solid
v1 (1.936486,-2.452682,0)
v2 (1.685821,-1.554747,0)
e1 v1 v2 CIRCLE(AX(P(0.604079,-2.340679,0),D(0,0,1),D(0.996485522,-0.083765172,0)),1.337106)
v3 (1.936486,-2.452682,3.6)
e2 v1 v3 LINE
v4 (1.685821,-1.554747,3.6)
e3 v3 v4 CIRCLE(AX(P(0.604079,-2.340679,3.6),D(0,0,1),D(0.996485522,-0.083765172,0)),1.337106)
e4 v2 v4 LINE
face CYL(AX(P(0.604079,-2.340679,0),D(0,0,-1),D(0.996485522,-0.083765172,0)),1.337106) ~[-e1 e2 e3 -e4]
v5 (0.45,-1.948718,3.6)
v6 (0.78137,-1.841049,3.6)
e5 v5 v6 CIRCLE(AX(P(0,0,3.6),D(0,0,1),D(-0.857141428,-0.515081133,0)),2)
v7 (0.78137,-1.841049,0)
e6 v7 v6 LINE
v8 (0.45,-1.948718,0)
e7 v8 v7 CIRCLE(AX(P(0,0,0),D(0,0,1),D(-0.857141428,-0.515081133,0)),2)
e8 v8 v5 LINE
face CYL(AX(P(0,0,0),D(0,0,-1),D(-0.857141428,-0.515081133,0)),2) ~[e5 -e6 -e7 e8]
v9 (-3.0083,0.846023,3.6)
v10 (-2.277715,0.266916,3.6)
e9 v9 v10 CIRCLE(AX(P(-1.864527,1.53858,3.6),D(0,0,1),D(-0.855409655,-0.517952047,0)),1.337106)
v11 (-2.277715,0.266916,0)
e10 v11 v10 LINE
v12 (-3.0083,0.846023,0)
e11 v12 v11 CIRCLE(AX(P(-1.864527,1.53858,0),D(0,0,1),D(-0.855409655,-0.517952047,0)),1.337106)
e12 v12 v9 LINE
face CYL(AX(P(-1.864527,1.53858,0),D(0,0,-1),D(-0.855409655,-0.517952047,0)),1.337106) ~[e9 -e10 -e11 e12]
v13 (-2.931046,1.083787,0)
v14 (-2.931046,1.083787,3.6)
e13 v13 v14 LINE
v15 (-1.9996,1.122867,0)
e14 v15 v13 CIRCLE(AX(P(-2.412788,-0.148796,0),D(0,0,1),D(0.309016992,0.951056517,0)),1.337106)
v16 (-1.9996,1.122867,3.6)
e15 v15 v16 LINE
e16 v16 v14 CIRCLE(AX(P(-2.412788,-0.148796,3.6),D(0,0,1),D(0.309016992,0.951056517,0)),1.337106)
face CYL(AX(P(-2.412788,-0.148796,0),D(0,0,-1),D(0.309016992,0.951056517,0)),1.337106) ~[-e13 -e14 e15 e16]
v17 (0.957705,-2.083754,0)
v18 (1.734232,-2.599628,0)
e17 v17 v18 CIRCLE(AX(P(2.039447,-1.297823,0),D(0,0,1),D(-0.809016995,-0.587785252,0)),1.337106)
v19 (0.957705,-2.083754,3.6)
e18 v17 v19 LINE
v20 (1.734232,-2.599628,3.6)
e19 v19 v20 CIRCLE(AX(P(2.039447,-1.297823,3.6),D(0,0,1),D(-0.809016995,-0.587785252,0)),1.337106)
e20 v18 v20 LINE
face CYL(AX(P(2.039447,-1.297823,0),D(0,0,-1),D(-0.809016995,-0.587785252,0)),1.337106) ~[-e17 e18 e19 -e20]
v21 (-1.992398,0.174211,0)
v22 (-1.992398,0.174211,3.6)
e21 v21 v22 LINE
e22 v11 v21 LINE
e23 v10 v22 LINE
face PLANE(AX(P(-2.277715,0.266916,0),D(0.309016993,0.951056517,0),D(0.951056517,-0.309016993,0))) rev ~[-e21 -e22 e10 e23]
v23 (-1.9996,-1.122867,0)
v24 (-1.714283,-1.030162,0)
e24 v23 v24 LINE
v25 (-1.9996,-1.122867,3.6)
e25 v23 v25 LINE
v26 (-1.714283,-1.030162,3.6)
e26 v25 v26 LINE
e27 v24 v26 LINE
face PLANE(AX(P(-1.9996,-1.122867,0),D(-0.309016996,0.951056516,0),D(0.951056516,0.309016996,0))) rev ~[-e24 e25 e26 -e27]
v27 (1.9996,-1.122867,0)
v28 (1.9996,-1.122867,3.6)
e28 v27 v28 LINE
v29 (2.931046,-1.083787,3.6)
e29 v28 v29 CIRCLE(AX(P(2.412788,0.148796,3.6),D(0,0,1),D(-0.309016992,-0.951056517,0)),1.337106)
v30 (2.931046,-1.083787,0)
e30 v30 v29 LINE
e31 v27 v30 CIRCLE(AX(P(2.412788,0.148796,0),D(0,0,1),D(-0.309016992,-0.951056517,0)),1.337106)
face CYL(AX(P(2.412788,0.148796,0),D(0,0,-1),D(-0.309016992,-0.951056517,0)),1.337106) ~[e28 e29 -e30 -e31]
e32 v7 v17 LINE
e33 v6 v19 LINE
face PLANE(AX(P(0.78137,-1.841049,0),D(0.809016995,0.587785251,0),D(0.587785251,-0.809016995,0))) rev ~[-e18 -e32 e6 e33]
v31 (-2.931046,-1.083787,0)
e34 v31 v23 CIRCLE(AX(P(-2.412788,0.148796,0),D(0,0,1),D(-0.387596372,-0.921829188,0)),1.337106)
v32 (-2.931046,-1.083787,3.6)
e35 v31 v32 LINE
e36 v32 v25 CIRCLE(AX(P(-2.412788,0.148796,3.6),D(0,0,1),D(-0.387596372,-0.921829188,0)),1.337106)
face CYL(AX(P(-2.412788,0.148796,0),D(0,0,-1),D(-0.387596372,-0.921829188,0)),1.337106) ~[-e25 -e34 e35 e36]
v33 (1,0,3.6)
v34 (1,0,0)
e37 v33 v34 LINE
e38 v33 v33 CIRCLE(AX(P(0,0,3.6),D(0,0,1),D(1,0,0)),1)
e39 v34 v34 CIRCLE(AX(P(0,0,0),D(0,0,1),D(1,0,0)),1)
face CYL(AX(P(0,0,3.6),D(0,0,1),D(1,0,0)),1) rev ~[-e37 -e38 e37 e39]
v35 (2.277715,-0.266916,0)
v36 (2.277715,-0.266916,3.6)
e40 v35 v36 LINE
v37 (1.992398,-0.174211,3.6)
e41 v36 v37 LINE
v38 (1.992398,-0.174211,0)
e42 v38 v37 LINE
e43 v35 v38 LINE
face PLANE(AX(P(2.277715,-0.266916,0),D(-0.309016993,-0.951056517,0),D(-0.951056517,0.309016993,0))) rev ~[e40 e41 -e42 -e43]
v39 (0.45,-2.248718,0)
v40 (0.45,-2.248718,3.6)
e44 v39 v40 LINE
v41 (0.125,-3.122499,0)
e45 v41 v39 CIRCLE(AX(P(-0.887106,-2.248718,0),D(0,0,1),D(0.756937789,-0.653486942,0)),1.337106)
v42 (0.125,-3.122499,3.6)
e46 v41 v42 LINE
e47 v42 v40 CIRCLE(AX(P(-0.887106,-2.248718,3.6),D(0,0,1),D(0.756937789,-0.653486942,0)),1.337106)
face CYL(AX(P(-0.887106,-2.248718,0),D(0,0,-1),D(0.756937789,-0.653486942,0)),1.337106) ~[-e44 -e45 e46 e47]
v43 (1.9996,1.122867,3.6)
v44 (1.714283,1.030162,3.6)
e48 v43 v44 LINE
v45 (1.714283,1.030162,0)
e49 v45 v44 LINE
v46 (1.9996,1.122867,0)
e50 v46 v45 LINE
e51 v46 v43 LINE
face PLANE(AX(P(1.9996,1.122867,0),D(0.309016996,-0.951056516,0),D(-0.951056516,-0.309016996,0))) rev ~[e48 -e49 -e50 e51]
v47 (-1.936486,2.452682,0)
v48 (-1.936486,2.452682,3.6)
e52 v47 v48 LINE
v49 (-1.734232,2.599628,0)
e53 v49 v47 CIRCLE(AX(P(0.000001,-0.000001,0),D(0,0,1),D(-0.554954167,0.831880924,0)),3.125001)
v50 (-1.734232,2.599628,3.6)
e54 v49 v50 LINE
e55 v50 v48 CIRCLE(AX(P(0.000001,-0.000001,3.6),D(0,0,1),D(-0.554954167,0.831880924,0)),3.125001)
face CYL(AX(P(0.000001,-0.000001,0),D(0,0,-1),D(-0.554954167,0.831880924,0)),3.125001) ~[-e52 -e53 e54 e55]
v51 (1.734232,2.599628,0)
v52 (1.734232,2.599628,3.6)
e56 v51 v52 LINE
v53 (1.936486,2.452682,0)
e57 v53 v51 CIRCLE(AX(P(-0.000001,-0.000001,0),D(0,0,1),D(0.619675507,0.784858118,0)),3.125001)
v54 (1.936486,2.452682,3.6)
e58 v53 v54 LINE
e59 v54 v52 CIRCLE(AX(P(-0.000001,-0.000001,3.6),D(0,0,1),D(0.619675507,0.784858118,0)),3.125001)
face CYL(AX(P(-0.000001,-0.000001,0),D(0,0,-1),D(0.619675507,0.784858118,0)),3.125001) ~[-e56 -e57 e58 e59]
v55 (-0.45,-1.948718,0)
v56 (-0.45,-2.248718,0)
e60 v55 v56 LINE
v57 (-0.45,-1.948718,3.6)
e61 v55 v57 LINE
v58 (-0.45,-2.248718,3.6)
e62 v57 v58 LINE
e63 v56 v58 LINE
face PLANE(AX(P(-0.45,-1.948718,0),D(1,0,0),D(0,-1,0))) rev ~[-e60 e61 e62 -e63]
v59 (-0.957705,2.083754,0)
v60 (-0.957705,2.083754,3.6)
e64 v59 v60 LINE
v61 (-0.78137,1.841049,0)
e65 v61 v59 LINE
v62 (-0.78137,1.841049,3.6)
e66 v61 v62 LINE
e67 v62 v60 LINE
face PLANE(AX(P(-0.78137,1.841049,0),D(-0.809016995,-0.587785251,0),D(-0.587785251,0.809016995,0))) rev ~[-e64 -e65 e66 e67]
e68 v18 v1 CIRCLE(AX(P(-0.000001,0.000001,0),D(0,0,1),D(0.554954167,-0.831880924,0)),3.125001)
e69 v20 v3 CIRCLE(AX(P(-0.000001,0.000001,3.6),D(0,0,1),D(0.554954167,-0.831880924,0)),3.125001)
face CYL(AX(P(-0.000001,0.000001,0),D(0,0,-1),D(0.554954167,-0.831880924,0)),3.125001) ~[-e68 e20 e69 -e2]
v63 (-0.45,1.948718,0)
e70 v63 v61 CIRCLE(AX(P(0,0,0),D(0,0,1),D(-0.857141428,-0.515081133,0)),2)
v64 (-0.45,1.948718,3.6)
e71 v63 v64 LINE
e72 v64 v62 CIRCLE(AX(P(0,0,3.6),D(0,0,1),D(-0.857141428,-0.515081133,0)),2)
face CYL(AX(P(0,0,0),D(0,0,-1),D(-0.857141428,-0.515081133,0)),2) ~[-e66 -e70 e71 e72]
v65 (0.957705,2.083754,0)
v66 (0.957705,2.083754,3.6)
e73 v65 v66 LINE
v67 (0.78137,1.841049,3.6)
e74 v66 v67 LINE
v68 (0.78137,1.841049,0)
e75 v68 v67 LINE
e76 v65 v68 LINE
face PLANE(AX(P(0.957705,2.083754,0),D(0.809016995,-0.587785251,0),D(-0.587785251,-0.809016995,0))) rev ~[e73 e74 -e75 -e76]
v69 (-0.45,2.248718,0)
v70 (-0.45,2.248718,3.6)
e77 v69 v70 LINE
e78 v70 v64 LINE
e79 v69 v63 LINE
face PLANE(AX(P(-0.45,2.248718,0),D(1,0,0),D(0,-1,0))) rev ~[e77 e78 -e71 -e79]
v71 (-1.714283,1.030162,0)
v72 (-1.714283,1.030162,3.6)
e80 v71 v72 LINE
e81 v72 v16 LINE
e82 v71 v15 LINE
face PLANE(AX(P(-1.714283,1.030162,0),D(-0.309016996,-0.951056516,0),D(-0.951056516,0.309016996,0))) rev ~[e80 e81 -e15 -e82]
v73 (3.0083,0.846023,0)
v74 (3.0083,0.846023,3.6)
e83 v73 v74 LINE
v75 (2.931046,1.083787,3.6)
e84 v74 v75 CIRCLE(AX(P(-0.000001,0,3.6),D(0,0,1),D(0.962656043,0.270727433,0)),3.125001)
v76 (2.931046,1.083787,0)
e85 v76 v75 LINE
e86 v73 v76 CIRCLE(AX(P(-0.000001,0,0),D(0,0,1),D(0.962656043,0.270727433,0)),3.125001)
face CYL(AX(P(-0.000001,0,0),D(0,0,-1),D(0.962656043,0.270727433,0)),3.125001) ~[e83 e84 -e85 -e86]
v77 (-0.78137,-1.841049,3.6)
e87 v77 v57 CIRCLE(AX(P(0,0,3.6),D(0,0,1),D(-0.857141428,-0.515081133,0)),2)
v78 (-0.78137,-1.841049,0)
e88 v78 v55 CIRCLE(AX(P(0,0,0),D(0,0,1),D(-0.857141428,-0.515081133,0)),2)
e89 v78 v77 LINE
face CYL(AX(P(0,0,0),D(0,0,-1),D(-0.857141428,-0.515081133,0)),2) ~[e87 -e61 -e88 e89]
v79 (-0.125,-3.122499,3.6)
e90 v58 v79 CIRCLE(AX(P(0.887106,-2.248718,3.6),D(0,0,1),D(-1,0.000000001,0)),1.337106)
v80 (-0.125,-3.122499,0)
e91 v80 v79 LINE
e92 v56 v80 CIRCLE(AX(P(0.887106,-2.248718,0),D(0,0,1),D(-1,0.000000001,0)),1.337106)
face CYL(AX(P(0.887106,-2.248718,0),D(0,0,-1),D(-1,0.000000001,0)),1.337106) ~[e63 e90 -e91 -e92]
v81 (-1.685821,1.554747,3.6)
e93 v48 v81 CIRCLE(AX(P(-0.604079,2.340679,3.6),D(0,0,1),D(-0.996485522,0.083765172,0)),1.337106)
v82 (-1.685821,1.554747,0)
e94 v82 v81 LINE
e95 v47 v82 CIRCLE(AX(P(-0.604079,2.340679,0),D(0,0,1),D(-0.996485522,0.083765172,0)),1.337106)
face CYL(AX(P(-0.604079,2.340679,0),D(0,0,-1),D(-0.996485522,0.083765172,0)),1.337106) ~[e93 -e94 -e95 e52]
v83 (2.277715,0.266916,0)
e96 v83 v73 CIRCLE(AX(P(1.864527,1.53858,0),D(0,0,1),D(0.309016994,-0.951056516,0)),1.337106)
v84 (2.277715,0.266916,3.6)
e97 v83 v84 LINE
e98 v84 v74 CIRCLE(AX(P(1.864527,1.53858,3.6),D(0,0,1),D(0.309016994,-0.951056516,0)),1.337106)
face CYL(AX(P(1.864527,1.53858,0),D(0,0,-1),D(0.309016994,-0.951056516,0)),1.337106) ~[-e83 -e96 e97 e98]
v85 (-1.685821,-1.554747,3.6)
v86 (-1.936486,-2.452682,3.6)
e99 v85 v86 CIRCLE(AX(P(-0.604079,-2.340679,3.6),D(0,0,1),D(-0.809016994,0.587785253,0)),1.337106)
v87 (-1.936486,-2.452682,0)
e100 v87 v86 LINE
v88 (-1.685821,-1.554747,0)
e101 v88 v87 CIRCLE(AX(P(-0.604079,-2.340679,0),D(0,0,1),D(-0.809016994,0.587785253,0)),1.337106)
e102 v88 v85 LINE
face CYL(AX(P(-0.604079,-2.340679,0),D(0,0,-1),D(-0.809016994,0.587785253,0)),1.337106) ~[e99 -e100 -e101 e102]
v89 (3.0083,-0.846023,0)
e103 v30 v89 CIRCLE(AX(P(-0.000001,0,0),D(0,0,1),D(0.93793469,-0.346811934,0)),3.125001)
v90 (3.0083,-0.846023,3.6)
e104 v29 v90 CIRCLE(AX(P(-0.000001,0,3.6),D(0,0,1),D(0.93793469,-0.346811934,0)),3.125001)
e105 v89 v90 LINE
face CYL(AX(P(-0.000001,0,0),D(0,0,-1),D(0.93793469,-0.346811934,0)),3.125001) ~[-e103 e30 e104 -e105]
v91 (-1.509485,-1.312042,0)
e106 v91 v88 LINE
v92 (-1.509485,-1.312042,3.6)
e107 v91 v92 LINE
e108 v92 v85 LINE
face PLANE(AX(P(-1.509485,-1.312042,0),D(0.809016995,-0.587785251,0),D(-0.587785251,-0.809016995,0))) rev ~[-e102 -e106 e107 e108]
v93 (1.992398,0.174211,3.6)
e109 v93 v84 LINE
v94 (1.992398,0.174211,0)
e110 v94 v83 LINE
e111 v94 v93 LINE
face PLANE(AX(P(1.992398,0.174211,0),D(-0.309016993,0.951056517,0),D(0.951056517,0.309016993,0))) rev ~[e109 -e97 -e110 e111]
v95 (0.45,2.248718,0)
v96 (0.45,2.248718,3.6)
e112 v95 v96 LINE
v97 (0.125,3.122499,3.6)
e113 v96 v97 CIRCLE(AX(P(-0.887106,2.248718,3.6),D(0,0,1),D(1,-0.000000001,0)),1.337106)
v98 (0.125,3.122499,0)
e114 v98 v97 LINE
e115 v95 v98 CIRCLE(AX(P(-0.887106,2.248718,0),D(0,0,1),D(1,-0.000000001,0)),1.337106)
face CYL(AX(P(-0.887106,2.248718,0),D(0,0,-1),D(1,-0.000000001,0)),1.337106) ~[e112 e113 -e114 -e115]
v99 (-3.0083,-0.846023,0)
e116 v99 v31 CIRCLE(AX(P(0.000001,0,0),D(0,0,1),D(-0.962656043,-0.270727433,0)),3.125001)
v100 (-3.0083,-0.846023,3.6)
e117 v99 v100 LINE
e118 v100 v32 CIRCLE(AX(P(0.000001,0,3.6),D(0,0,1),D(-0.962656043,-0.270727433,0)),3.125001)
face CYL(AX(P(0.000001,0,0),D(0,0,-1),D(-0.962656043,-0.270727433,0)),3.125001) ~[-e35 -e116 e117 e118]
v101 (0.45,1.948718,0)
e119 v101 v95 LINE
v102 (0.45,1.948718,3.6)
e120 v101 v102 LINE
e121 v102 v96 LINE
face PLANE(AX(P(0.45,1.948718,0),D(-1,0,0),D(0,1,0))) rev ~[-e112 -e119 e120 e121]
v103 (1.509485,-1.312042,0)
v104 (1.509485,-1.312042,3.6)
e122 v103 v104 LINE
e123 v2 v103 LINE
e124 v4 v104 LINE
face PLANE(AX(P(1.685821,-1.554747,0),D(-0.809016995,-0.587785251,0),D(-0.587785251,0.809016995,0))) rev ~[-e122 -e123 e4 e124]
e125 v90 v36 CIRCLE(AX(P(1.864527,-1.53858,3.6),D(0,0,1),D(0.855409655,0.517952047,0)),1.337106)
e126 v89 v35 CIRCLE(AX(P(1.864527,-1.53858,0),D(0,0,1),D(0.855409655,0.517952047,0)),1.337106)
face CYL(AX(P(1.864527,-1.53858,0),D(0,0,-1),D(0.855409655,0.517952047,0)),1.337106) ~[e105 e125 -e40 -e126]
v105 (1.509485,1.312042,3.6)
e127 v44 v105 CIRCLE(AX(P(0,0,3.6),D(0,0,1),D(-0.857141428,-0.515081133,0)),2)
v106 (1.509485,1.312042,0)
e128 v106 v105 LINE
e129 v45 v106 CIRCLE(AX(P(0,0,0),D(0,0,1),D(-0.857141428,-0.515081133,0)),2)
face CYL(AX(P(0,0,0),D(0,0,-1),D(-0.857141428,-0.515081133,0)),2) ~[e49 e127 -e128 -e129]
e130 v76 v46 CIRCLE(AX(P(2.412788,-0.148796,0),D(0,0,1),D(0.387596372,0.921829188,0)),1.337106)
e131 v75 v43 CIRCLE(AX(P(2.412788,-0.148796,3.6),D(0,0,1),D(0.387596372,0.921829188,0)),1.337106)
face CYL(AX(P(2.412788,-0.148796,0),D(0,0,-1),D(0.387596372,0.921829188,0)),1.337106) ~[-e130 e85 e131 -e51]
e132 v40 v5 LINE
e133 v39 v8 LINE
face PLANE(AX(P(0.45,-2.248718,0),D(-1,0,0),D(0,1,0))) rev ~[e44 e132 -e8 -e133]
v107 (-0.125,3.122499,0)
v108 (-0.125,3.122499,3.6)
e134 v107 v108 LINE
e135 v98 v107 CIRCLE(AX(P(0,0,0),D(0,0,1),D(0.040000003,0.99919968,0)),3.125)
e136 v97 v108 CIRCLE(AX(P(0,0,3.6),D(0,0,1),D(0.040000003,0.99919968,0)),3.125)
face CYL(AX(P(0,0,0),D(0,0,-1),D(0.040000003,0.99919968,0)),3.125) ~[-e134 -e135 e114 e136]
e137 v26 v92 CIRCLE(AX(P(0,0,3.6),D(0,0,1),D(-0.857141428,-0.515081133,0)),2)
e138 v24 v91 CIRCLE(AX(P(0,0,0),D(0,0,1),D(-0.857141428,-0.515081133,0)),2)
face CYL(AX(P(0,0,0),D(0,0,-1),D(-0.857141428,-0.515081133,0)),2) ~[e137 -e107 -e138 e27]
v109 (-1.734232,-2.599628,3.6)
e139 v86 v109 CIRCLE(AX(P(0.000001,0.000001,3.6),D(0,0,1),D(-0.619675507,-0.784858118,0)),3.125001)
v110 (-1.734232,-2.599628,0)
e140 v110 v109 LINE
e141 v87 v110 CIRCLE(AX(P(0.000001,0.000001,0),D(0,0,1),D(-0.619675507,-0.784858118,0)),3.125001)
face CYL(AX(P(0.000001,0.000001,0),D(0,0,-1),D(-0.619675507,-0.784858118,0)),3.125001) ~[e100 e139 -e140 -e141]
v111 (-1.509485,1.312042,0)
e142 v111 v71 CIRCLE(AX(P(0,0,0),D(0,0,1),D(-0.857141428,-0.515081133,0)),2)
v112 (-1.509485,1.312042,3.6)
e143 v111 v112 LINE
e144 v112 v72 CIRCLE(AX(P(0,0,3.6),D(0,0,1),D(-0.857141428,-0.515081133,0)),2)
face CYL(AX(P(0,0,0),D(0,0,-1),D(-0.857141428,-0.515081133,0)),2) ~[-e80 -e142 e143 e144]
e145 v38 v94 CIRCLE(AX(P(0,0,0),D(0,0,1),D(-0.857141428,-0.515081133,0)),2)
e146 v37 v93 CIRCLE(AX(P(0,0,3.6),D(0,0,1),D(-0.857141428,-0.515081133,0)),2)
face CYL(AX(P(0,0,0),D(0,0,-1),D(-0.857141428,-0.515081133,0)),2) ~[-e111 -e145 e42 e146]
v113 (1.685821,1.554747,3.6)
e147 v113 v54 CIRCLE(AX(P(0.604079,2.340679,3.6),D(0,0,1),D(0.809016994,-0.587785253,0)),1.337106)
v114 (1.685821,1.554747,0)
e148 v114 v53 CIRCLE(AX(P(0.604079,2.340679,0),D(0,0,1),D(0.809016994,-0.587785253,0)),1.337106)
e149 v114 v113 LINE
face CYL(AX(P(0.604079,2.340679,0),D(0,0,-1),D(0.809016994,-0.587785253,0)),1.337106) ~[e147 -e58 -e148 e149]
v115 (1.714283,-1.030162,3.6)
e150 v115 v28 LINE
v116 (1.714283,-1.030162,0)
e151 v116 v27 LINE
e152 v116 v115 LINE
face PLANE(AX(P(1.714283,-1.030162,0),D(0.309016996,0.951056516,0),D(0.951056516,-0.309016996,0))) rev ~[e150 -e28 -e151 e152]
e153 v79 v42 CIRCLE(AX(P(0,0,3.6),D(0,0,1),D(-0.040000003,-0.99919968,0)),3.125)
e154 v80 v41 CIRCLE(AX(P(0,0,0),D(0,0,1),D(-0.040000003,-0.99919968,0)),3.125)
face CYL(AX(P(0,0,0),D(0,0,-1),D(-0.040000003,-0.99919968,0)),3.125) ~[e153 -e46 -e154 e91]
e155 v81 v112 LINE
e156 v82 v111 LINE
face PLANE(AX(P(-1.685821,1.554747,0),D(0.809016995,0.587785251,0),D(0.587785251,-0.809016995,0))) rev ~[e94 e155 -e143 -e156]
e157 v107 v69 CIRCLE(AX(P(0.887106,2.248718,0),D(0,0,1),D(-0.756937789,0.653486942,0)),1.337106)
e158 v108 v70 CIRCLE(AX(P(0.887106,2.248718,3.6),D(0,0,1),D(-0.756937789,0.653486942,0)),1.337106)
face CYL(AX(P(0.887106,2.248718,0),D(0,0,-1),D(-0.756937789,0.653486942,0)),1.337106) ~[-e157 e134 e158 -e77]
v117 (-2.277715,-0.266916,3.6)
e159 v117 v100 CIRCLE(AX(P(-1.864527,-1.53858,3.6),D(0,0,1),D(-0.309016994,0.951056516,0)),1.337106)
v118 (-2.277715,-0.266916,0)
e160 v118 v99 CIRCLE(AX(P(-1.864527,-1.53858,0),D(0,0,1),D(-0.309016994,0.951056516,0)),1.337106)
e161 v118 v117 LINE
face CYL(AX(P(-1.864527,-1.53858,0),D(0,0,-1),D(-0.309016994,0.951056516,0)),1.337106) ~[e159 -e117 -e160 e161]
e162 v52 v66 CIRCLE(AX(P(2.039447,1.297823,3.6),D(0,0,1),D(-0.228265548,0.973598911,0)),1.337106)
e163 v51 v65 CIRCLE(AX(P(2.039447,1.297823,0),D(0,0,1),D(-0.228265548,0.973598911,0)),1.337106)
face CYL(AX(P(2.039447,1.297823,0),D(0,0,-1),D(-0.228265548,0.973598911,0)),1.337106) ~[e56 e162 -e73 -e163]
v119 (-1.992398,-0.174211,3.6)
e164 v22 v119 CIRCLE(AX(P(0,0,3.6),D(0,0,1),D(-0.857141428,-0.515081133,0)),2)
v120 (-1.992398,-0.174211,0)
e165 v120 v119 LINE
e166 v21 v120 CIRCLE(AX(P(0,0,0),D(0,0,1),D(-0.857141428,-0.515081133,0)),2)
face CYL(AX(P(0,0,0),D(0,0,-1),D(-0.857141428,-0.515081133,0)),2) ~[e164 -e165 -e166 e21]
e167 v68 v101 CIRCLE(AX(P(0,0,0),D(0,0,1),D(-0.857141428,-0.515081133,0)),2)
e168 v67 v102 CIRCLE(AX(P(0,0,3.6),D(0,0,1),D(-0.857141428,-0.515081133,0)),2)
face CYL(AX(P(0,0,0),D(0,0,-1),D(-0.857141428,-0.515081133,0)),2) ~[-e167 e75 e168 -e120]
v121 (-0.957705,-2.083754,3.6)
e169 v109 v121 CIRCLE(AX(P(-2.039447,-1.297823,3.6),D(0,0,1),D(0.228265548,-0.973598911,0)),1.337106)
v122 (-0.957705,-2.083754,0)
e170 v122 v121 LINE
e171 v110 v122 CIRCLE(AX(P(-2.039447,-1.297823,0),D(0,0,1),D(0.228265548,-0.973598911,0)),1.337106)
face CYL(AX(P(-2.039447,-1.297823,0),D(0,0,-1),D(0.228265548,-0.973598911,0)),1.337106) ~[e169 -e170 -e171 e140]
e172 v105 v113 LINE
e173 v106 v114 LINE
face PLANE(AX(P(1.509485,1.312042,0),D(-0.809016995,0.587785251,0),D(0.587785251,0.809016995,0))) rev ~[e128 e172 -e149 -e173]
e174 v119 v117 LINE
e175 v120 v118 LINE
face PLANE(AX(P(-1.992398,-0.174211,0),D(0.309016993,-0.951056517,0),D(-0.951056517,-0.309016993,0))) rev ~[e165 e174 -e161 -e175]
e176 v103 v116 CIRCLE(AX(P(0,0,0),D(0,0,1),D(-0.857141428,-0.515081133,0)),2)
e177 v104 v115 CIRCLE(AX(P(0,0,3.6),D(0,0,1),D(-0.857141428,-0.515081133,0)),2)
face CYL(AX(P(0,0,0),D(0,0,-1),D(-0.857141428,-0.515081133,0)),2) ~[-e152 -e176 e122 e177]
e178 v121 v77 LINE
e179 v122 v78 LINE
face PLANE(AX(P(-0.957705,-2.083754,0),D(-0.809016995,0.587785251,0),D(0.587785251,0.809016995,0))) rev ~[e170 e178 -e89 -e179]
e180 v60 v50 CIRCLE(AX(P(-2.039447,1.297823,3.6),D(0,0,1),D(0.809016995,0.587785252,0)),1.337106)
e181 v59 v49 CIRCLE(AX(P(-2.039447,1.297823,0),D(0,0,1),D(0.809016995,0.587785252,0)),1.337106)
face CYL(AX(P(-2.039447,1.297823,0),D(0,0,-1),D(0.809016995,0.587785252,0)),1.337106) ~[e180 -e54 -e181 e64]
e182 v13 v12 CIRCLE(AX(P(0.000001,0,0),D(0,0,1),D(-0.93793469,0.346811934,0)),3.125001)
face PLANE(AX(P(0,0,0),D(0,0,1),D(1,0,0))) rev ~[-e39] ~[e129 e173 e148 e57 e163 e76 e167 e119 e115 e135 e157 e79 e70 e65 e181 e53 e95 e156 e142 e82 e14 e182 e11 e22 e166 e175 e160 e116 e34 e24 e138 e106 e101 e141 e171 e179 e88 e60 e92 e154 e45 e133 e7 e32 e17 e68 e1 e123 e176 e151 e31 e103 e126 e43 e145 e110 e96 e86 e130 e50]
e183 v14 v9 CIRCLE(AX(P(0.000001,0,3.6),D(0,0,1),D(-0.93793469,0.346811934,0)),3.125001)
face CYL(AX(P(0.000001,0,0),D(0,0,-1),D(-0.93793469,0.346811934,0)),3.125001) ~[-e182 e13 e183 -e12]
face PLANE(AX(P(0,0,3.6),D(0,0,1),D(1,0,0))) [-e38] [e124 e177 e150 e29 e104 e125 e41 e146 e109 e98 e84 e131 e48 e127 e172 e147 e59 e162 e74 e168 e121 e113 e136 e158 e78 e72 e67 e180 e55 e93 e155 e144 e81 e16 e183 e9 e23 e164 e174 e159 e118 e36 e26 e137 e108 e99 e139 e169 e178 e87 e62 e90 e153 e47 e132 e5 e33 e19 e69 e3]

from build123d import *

# Parameters (mm, degrees)
ESBO_O1_R                = 2
RESSALTO_EXTRUS_O1_DEPTH = 3.6
CORTE_EXTRUS_O1_REACH    = 7.637
ESBO_O2_R                = 1


with BuildPart() as part:
    # Esboço1 → Ressalto-extrusão1 (new body)
    with BuildSketch(Plane.XY):
        Circle(ESBO_O1_R)
        with BuildLine():
            Line((-1.99959981, -1.122867364), (-1.714282855, -1.030162265))
            ThreePointArc((-1.714282855, -1.030162265), (-1.902113033, -0.618033989), (-1.99239815, -0.174211401))
            Line((-1.99239815, -0.174211401), (-2.277715105, -0.266916499))
            ThreePointArc((-2.277715105, -0.266916499), (-2.695113044, -0.490735084), (-3.008300145, -0.846023191))
            ThreePointArc((-3.008300145, -0.846023191), (-2.972051613, -0.965678107), (-2.931045896, -1.08378732))
            ThreePointArc((-2.931045896, -1.08378732), (-2.4688391, -1.187134677), (-1.99959981, -1.122867364))
        make_face()
        with BuildLine():
            Line((-2.277715105, 0.266916499), (-1.99239815, 0.174211401))
            ThreePointArc((-1.99239815, 0.174211401), (-1.902113033, 0.618033989), (-1.714282855, 1.030162265))
            Line((-1.714282855, 1.030162265), (-1.99959981, 1.122867364))
            ThreePointArc((-1.99959981, 1.122867364), (-2.4688391, 1.187134677), (-2.931045896, 1.08378732))
            ThreePointArc((-2.931045896, 1.08378732), (-2.972051613, 0.965678107), (-3.008300145, 0.846023191))
            ThreePointArc((-3.008300145, 0.846023191), (-2.695113044, 0.490735084), (-2.277715105, 0.266916499))
        make_face()
        with BuildLine():
            Line((-1.685820646, 1.554747331), (-1.509485071, 1.312042233))
            ThreePointArc((-1.509485071, 1.312042233), (-1.175570505, 1.618033989), (-0.781369776, 1.84104896))
            Line((-0.781369776, 1.84104896), (-0.957705351, 2.083754058))
            ThreePointArc((-0.957705351, 2.083754058), (-1.299552532, 2.411559342), (-1.734231738, 2.599627912))
            ThreePointArc((-1.734231738, 2.599627912), (-1.836828913, 2.528178107), (-1.936485986, 2.452681599))
            ThreePointArc((-1.936485986, 2.452681599), (-1.891945409, 1.981160724), (-1.685820646, 1.554747331))
        make_face()
        with BuildLine():
            Line((-0.45, 2.248717527), (-0.45, 1.948717527))
            ThreePointArc((-0.45, 1.948717527), (0, 2), (0.45, 1.948717527))
            Line((0.45, 1.948717527), (0.45, 2.248717527))
            ThreePointArc((0.45, 2.248717527), (0.366118933, 2.714850303), (0.125, 3.122498999))
            ThreePointArc((0.125, 3.122498999), (0, 3.125), (-0.125, 3.122498999))
            ThreePointArc((-0.125, 3.122498999), (-0.366118933, 2.714850303), (-0.45, 2.248717527))
        make_face()
        with BuildLine():
            ThreePointArc((0.781369776, 1.84104896), (1.175570505, 1.618033989), (1.509485071, 1.312042233))
            Line((1.509485071, 1.312042233), (1.685820646, 1.554747331))
            ThreePointArc((1.685820646, 1.554747331), (1.891945409, 1.981160724), (1.936485986, 2.452681599))
            ThreePointArc((1.936485986, 2.452681599), (1.836828913, 2.528178107), (1.734231738, 2.599627912))
            ThreePointArc((1.734231738, 2.599627912), (1.299552532, 2.411559342), (0.957705351, 2.083754058))
            Line((0.957705351, 2.083754058), (0.781369776, 1.84104896))
        make_face()
        with BuildLine():
            ThreePointArc((1.714282855, 1.030162265), (1.902113033, 0.618033989), (1.99239815, 0.174211401))
            Line((1.99239815, 0.174211401), (2.277715105, 0.266916499))
            ThreePointArc((2.277715105, 0.266916499), (2.695113044, 0.490735084), (3.008300145, 0.846023191))
            ThreePointArc((3.008300145, 0.846023191), (2.972051613, 0.965678107), (2.931045896, 1.08378732))
            ThreePointArc((2.931045896, 1.08378732), (2.4688391, 1.187134677), (1.99959981, 1.122867364))
            Line((1.99959981, 1.122867364), (1.714282855, 1.030162265))
        make_face()
        with BuildLine():
            ThreePointArc((1.99239815, -0.174211401), (1.902113033, -0.618033989), (1.714282855, -1.030162265))
            Line((1.714282855, -1.030162265), (1.99959981, -1.122867364))
            ThreePointArc((1.99959981, -1.122867364), (2.4688391, -1.187134677), (2.931045896, -1.08378732))
            ThreePointArc((2.931045896, -1.08378732), (2.972051613, -0.965678107), (3.008300145, -0.846023191))
            ThreePointArc((3.008300145, -0.846023191), (2.695113044, -0.490735084), (2.277715105, -0.266916499))
            Line((2.277715105, -0.266916499), (1.99239815, -0.174211401))
        make_face()
        with BuildLine():
            ThreePointArc((1.509485071, -1.312042233), (1.175570505, -1.618033989), (0.781369776, -1.84104896))
            Line((0.781369776, -1.84104896), (0.957705351, -2.083754058))
            ThreePointArc((0.957705351, -2.083754058), (1.299552532, -2.411559342), (1.734231738, -2.599627912))
            ThreePointArc((1.734231738, -2.599627912), (1.836828913, -2.528178107), (1.936485986, -2.452681599))
            ThreePointArc((1.936485986, -2.452681599), (1.891945409, -1.981160724), (1.685820646, -1.554747331))
            Line((1.685820646, -1.554747331), (1.509485071, -1.312042233))
        make_face()
        with BuildLine():
            Line((-0.45, -1.948717527), (-0.45, -2.248717527))
            ThreePointArc((-0.45, -2.248717527), (-0.366118933, -2.714850303), (-0.125, -3.122498999))
            ThreePointArc((-0.125, -3.122498999), (0, -3.125), (0.125, -3.122498999))
            ThreePointArc((0.125, -3.122498999), (0.366118933, -2.714850303), (0.45, -2.248717527))
            Line((0.45, -2.248717527), (0.45, -1.948717527))
            ThreePointArc((0.45, -1.948717527), (0, -2), (-0.45, -1.948717527))
        make_face()
        with BuildLine():
            Line((-0.957705351, -2.083754058), (-0.781369776, -1.84104896))
            ThreePointArc((-0.781369776, -1.84104896), (-1.175570505, -1.618033989), (-1.509485071, -1.312042233))
            Line((-1.509485071, -1.312042233), (-1.685820646, -1.554747331))
            ThreePointArc((-1.685820646, -1.554747331), (-1.891945409, -1.981160724), (-1.936485986, -2.452681599))
            ThreePointArc((-1.936485986, -2.452681599), (-1.836828913, -2.528178107), (-1.734231738, -2.599627912))
            ThreePointArc((-1.734231738, -2.599627912), (-1.299552532, -2.411559342), (-0.957705351, -2.083754058))
        make_face()
    extrude(amount=RESSALTO_EXTRUS_O1_DEPTH)

    # Esboço2 → Corte-extrusão1 (cut, up to next)
    with BuildSketch(Plane.XY.offset(3.6), mode=Mode.PRIVATE) as corte_extrus_o1_sk1:
        Circle(ESBO_O2_R)
    corte_extrus_o1_tool1 = extrude(corte_extrus_o1_sk1.sketch, amount=-CORTE_EXTRUS_O1_REACH, mode=Mode.PRIVATE) & part.part
    add(corte_extrus_o1_tool1.solids().sort_by_distance((0, 0, 3.6))[0], mode=Mode.SUBTRACT)


solid = part.part
